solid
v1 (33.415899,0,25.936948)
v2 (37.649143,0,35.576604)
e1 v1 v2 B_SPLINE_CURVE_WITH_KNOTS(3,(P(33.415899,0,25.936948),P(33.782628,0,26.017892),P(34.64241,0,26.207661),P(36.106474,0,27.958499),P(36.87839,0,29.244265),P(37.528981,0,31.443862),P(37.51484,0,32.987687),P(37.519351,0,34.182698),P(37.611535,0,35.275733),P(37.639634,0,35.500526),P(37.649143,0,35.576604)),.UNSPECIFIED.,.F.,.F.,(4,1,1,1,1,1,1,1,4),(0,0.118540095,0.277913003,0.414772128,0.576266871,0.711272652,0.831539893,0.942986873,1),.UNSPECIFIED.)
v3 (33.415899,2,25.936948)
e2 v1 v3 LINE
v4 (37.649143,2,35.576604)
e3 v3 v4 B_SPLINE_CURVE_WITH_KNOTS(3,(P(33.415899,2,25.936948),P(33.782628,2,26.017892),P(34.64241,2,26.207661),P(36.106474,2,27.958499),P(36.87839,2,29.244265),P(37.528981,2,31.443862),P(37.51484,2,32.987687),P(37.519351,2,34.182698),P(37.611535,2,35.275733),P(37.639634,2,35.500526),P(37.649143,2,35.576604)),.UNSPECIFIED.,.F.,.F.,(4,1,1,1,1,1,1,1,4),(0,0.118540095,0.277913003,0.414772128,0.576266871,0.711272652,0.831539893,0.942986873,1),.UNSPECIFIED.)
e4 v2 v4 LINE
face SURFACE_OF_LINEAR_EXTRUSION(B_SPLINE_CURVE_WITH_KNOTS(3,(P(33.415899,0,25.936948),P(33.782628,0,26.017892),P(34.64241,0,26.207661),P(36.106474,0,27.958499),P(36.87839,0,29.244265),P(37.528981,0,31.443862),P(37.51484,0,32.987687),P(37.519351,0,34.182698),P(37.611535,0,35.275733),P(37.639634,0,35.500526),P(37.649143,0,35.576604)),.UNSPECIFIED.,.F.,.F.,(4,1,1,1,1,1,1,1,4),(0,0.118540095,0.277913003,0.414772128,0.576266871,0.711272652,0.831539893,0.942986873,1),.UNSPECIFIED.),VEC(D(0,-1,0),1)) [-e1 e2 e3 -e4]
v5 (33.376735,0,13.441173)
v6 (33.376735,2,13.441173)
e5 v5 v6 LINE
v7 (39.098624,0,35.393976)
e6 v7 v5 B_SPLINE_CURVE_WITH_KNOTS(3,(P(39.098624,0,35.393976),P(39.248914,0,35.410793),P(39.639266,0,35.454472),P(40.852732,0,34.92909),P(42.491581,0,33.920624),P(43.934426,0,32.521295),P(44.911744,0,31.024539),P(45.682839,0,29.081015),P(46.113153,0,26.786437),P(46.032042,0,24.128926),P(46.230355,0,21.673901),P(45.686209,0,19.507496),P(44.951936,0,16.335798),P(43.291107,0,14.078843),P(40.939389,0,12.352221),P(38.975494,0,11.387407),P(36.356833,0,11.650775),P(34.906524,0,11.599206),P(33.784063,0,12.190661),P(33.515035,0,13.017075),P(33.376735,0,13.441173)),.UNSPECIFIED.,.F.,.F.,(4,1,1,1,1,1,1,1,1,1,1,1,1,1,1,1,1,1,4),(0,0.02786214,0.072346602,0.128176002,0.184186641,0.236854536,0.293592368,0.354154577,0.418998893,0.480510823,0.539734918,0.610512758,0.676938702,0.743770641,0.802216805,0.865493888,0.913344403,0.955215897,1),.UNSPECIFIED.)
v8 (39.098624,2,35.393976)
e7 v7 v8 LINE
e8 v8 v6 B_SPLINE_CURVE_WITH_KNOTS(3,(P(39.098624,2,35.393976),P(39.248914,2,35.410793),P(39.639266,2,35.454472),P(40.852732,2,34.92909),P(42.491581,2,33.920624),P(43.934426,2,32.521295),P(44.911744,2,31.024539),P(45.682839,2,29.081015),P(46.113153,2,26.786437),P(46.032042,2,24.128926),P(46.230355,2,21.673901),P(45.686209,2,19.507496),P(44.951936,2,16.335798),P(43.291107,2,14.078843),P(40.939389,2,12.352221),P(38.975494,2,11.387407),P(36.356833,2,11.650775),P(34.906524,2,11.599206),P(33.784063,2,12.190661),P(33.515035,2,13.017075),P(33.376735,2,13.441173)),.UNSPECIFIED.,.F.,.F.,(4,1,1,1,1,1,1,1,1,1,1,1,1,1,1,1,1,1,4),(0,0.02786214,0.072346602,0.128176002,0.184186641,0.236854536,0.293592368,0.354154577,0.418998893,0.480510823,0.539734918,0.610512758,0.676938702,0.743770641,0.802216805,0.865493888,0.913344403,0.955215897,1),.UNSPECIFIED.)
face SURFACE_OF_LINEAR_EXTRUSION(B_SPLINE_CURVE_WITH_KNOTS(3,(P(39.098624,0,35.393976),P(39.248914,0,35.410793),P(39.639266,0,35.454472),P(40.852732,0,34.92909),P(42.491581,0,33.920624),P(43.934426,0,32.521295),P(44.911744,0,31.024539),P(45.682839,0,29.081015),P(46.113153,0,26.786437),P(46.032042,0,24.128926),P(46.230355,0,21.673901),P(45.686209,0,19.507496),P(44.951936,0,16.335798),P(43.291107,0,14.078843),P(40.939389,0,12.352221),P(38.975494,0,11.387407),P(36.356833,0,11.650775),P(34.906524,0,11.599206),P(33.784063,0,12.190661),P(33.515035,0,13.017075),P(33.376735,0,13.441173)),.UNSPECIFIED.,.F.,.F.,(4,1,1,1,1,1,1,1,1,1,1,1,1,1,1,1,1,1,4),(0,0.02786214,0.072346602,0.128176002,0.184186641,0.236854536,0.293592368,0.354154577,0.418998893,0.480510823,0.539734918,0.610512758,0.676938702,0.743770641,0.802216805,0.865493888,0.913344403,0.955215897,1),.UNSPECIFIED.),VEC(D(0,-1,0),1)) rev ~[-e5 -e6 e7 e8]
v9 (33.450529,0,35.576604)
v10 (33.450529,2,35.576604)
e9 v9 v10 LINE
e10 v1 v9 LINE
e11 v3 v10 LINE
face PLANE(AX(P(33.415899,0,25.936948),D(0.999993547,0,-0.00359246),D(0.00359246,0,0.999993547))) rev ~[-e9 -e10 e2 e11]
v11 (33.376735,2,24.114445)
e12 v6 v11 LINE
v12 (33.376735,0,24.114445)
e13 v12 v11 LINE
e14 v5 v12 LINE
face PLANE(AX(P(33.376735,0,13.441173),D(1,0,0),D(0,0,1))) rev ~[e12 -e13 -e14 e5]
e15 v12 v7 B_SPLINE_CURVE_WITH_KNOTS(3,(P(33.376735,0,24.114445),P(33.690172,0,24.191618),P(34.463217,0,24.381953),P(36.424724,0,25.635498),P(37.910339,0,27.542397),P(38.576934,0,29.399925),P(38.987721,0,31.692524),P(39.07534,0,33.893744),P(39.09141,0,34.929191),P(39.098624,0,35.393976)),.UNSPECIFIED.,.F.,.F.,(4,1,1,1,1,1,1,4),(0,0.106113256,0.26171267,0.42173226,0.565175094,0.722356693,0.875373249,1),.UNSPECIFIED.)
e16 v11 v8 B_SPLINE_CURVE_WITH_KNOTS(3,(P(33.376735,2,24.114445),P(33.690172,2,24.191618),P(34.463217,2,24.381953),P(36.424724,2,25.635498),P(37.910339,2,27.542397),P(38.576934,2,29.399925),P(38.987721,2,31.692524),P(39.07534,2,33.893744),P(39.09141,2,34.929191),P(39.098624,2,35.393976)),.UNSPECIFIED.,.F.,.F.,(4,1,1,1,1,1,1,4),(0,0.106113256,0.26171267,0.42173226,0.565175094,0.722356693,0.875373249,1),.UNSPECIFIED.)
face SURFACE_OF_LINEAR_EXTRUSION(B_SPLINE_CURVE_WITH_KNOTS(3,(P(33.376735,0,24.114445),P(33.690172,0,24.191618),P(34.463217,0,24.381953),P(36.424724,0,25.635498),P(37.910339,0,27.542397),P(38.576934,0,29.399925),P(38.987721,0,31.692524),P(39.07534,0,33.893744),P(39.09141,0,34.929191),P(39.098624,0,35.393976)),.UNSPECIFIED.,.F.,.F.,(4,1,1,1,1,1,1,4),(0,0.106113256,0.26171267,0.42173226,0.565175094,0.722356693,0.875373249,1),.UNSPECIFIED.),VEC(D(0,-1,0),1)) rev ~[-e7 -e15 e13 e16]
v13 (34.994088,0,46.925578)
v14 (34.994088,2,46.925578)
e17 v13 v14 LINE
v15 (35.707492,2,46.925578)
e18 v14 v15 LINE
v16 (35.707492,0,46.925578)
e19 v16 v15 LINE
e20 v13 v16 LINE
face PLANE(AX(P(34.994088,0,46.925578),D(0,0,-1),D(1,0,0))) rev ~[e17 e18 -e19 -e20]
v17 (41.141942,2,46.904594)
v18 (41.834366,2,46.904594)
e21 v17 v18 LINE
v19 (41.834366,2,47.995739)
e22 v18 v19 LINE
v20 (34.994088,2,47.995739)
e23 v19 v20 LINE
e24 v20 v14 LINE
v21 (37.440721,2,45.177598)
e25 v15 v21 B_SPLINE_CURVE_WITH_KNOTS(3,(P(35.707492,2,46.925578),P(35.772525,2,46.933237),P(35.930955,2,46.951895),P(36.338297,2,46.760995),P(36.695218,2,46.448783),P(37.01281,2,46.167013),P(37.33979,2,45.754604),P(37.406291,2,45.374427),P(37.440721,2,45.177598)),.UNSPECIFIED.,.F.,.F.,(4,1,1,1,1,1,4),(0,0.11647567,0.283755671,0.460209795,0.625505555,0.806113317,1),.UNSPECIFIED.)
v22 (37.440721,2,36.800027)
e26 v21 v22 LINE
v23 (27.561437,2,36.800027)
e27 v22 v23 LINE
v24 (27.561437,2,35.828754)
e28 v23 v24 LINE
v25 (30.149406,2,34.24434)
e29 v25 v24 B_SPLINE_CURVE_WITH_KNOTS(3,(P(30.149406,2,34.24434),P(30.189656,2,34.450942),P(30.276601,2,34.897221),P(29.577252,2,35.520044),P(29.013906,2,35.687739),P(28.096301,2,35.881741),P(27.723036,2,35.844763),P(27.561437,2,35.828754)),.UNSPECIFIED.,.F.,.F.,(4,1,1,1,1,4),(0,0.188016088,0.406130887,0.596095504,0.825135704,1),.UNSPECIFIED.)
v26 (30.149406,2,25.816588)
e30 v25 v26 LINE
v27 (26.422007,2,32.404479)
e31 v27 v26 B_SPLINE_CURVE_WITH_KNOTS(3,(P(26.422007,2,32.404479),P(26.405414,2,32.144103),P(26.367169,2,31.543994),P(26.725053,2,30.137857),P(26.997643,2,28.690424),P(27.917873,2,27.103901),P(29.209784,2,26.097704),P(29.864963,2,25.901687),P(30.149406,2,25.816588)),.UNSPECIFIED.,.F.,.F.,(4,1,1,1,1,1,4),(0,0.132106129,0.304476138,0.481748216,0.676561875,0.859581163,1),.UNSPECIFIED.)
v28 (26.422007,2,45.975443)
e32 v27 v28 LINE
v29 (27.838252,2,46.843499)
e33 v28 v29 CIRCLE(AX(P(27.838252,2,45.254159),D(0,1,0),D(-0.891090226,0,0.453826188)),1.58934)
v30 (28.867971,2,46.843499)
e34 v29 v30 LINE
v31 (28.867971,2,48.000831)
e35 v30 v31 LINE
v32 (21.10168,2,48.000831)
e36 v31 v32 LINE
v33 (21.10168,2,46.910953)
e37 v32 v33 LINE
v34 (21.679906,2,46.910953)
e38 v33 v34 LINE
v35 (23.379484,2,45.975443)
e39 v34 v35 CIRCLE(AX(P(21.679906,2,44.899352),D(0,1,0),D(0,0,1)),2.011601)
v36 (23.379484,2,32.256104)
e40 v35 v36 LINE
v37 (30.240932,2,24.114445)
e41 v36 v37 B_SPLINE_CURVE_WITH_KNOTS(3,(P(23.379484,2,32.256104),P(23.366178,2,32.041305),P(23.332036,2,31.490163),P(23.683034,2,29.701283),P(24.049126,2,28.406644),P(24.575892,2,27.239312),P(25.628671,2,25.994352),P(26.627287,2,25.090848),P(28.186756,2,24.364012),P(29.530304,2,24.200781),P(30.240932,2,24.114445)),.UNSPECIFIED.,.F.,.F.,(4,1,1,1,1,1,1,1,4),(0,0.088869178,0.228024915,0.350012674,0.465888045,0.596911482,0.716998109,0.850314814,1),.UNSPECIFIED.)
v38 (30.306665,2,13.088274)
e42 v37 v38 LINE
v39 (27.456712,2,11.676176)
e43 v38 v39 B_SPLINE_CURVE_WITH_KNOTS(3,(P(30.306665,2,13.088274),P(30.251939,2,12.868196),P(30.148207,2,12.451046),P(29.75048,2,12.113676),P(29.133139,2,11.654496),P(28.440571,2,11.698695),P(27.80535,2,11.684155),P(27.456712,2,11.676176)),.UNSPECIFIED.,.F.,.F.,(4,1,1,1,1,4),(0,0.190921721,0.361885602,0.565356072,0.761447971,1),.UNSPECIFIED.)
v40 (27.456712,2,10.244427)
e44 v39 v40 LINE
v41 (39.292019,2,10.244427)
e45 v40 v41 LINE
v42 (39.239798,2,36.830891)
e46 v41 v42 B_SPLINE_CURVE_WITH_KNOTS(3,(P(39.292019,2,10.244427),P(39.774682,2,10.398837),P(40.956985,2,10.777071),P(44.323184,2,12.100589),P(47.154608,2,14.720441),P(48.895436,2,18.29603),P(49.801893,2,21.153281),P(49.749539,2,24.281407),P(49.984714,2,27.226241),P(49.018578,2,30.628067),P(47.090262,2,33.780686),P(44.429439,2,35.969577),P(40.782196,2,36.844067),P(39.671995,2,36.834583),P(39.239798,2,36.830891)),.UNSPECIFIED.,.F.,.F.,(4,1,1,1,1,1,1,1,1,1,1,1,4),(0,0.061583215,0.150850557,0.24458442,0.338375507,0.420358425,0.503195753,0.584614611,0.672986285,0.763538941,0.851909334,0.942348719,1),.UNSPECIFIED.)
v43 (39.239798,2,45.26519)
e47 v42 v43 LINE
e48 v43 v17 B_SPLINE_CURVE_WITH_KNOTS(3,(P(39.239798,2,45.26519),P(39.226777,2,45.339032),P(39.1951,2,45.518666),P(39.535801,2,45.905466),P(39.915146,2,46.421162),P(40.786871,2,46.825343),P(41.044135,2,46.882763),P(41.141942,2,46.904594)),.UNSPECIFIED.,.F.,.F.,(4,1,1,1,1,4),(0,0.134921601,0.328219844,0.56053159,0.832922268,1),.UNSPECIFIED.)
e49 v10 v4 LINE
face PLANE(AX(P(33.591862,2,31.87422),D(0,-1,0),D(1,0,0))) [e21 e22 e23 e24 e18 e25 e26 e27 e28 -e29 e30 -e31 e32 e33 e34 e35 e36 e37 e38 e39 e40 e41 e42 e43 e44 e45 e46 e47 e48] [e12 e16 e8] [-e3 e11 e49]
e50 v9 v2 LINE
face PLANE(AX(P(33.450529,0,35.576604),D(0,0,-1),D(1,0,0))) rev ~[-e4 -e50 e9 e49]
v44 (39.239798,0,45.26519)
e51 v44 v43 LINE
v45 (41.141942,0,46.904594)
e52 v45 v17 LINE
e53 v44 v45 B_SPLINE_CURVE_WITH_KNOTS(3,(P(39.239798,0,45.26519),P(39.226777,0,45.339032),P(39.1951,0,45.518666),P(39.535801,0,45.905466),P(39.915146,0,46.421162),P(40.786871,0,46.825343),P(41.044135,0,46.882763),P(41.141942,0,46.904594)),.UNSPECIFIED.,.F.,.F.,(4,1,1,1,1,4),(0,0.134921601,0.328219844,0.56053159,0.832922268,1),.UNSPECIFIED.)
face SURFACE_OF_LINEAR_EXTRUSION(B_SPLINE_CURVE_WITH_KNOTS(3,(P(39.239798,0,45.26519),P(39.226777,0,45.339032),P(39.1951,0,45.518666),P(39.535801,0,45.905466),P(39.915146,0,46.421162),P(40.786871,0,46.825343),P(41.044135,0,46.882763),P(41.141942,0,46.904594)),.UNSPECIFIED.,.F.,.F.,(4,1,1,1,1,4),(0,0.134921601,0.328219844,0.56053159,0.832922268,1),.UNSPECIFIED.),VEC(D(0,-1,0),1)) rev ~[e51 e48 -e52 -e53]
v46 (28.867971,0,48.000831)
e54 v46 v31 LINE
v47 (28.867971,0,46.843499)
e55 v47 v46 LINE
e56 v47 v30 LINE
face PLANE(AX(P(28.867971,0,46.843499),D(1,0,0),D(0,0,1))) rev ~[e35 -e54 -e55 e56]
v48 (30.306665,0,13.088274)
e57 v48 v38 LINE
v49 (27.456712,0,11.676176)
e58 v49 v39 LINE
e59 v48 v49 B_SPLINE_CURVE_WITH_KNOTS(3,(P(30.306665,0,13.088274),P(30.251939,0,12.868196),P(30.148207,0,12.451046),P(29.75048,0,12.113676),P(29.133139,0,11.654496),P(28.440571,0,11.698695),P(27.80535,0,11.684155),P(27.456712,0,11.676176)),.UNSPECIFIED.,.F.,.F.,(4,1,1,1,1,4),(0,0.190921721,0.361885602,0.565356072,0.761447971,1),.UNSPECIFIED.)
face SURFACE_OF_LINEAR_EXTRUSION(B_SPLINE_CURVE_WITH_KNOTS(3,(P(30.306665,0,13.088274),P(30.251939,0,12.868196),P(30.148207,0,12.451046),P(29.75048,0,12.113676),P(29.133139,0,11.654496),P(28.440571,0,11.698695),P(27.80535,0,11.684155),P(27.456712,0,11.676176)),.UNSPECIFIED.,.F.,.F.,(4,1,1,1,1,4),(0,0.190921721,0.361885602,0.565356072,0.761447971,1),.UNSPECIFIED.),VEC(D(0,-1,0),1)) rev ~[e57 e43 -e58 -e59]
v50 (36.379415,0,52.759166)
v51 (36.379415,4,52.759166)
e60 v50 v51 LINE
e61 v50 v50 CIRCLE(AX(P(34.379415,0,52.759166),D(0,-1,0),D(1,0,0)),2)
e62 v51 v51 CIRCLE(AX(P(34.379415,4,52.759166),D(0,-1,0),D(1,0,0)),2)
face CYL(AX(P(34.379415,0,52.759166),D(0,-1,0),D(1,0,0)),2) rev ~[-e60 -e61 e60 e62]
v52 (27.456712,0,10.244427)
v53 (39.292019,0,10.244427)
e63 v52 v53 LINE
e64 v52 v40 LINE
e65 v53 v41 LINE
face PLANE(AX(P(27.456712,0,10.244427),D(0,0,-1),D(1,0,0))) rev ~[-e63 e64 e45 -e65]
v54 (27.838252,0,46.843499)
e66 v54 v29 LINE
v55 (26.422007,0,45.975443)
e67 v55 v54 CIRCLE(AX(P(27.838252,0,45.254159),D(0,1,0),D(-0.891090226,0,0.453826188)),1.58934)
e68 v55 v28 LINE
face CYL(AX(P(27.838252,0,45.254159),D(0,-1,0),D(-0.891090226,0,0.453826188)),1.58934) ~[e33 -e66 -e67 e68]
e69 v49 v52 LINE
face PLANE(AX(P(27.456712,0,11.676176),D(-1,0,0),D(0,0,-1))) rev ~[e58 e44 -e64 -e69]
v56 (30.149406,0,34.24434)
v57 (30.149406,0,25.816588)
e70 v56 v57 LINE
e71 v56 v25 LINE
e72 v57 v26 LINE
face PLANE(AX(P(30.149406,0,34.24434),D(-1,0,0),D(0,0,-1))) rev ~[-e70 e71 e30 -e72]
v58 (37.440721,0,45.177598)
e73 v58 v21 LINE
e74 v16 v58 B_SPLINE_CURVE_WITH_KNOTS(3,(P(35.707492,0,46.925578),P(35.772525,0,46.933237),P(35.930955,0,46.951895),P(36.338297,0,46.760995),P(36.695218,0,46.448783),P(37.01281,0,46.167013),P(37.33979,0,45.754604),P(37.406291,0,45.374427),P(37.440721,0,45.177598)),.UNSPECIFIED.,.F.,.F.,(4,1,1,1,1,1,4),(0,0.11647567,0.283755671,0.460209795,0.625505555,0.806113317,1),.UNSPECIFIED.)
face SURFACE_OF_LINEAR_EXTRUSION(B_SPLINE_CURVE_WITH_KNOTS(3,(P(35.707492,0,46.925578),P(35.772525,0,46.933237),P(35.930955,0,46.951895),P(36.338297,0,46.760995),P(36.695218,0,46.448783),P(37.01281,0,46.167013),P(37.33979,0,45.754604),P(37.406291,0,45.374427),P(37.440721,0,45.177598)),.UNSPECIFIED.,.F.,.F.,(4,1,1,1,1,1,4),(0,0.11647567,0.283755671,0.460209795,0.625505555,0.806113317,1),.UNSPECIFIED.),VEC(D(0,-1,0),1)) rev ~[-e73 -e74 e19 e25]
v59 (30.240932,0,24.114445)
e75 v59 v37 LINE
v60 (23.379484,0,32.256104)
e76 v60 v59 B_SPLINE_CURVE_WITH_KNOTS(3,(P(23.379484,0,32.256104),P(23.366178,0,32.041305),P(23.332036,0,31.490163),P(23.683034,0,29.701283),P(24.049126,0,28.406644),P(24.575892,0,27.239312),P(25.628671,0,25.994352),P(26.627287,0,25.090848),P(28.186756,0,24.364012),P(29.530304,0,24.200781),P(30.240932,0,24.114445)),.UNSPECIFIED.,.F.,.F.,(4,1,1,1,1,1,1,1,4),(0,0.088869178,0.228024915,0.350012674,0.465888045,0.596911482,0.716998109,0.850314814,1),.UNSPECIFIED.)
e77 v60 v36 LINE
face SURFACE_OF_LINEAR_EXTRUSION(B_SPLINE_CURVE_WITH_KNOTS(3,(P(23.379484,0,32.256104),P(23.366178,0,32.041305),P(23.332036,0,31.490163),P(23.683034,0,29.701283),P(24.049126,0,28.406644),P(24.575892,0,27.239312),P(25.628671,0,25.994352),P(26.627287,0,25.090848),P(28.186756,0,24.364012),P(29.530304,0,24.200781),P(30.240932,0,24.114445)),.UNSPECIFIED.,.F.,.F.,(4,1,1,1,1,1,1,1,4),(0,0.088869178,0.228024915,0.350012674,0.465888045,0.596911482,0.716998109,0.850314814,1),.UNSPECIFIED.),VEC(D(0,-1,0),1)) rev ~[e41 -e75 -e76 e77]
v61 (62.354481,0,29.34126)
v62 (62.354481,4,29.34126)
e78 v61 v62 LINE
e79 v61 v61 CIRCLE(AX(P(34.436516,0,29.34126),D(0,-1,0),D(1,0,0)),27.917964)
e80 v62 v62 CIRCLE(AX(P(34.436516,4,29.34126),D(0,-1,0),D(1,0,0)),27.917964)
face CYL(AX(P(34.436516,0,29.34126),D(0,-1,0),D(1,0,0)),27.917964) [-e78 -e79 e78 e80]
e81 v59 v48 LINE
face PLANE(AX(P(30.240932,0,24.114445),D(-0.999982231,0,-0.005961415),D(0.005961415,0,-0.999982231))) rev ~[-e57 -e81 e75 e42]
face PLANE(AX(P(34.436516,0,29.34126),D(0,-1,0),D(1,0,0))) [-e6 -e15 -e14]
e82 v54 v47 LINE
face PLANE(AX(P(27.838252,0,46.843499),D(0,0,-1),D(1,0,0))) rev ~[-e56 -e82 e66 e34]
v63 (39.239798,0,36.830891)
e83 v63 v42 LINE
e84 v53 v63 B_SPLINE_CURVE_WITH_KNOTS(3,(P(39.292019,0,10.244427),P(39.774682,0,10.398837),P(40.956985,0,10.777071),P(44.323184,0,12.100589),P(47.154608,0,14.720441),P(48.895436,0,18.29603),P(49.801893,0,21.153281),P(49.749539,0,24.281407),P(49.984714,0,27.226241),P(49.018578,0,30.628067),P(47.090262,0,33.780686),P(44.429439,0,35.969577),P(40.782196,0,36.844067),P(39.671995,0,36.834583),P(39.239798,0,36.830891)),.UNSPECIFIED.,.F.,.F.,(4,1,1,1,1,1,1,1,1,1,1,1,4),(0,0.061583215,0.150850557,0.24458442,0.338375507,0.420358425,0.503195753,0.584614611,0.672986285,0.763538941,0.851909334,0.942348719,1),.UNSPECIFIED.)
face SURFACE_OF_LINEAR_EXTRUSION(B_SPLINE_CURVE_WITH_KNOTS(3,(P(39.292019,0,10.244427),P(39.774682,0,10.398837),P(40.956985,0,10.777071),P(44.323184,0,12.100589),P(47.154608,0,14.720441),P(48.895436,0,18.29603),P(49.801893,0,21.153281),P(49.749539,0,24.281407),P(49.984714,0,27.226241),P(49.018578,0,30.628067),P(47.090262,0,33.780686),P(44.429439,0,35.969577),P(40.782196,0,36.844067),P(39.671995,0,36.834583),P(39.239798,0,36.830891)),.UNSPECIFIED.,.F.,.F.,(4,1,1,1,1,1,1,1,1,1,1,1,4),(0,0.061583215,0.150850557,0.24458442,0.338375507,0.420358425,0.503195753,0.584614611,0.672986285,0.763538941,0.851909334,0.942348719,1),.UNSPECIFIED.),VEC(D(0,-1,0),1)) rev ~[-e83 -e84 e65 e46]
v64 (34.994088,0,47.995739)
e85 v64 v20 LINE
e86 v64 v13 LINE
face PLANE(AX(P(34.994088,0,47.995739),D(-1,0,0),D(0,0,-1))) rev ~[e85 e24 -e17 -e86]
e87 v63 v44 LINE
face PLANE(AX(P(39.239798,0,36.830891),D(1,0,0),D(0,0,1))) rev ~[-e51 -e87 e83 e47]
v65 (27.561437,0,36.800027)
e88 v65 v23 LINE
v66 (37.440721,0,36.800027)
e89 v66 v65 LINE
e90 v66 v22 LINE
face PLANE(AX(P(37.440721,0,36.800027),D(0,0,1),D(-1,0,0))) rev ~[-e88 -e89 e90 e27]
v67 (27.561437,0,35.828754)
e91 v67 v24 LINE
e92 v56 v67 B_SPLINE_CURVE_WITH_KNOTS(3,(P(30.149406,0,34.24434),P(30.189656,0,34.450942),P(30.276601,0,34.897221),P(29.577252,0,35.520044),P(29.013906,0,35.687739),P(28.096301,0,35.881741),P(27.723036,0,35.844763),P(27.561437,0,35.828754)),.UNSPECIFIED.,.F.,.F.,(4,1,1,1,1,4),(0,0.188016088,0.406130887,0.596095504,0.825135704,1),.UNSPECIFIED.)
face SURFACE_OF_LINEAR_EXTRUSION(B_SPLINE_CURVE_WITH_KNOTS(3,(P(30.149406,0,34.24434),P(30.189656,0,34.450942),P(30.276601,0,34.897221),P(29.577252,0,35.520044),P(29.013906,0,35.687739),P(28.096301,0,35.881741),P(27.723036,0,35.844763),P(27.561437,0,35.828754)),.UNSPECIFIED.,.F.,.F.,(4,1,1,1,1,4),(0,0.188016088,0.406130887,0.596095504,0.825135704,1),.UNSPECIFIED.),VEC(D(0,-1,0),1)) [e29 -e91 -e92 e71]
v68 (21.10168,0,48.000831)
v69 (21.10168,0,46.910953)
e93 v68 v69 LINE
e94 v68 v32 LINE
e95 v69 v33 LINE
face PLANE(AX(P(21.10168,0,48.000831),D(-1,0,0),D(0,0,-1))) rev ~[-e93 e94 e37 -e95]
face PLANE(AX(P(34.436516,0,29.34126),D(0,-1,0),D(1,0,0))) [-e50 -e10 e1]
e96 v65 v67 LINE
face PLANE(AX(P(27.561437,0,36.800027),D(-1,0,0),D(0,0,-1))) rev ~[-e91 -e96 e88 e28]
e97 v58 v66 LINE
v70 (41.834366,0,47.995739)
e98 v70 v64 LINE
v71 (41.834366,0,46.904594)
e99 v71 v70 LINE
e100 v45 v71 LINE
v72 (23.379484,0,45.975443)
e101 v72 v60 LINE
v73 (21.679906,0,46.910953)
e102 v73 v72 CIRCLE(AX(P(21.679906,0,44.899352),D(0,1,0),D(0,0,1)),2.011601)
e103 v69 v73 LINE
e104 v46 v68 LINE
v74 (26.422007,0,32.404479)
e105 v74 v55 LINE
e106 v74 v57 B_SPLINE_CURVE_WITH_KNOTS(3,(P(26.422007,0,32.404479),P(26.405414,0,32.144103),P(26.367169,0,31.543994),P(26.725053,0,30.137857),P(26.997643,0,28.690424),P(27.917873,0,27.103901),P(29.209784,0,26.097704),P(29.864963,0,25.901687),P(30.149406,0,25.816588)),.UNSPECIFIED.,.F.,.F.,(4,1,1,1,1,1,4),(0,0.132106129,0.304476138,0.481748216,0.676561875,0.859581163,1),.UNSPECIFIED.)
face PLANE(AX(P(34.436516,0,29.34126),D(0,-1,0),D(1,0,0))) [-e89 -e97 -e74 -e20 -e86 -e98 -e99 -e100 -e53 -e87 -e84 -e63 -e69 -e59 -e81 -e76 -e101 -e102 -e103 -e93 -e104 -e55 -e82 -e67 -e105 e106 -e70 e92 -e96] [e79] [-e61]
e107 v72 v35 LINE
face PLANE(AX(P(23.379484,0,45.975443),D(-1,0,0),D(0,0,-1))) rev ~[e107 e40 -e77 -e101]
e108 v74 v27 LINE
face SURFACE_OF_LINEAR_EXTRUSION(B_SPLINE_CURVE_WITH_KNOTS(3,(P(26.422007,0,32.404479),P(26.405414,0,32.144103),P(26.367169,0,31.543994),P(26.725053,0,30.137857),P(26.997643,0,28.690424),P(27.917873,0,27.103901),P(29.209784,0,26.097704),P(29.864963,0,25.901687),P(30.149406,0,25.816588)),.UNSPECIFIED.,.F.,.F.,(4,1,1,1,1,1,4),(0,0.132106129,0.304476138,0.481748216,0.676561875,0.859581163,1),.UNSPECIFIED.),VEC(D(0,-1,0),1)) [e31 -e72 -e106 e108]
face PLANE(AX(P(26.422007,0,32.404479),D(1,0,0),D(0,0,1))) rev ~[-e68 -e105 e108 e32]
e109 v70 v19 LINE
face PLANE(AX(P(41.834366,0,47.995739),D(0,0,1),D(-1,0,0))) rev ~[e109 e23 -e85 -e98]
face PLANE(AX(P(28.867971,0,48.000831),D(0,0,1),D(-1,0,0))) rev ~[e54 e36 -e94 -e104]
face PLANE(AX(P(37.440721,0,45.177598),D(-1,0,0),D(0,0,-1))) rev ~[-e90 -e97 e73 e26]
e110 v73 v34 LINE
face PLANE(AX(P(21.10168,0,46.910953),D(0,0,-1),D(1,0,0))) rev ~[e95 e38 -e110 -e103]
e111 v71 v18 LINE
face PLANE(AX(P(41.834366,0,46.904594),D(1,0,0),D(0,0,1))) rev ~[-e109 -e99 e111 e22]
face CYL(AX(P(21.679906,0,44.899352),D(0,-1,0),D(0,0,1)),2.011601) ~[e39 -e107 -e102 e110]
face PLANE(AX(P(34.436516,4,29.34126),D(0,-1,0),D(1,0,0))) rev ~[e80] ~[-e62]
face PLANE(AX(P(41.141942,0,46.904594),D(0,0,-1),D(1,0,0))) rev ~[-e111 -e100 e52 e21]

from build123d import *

# Parameters (mm, degrees)
F1_R     = 27.9179643297
F2_DEPTH = 4
F3_DEPTH = 2
F4_R     = 2
F5_DEPTH = 25


with BuildPart() as f2:
    # F1 (on Front) → F2 (new body)
    with BuildSketch(Plane.XZ):
        with Locations((34.4365164638, 29.3412599713)):
            Circle(F1_R)
    extrude(amount=-F2_DEPTH)

    # F0 (on Front) → F3 (cut)
    with BuildSketch(Plane.XZ):
        with BuildLine():
            Line((28.8679711521, 48.000831157), (21.2418399751, 48.000831157))
            Line((21.2418399751, 48.000831157), (21.1016796529, 48.000831157))
            Line((21.1016796529, 48.000831157), (21.1016796529, 46.9109527767))
            Line((21.1016796529, 46.9109527767), (21.6799061745, 46.9109527767))
            ThreePointArc((21.6799061745, 46.9109527767), (22.6499247341, 46.6616237032), (23.3794841915, 45.9754429758))
            Line((23.3794841915, 45.9754429758), (23.3794841915, 32.2561040521))
            add(Edge.make_bspline(
                [(23.3794841915, 32.2561040521), (23.3661779434, 32.0413049632), (23.3320361161, 31.4901628764), (23.6830336391, 29.7012833817), (24.04912574, 28.4066435414), (24.5758922104, 27.2393122591), (25.6286713635, 25.9943517485), (26.6272868609, 25.0908477478), (28.1867559009, 24.3640116011), (29.5303038983, 24.2007807914), (30.2409324795, 24.1144448519)],
                knots=[0, 0, 0, 0, 0.0888691777, 0.2280249154, 0.350012674, 0.4658880454, 0.5969114819, 0.716998109, 0.8503148137, 1, 1, 1, 1], degree=3))
            Line((30.2409324795, 24.1144448519), (30.3066652268, 13.0882738158))
            add(Edge.make_bspline(
                [(30.3066652268, 13.0882738158), (30.2519389049, 12.8681959728), (30.1482070308, 12.4510459374), (29.7504803796, 12.113676258), (29.1331387589, 11.6544957812), (28.4405708125, 11.6986950554), (27.8053497246, 11.6841554859), (27.4567119777, 11.6761755198)],
                knots=[0, 0, 0, 0, 0.1909217212, 0.3618856023, 0.5653560725, 0.7614479707, 1, 1, 1, 1], degree=3))
            Line((27.4567119777, 11.6761755198), (27.4567119777, 10.2444272488))
            Line((27.4567119777, 10.2444272488), (39.2920188606, 10.2444272488))
            add(Edge.make_bspline(
                [(39.2920188606, 10.2444272488), (39.774682126, 10.3988373959), (40.9569851668, 10.7770712485), (44.3231835186, 12.1005887696), (47.1546084039, 14.7204409379), (48.8954359497, 18.2960298868), (49.8018932136, 21.1532808912), (49.7495385908, 24.2814068636), (49.9847142006, 27.2262407584), (49.0185777967, 30.6280669447), (47.0902622954, 33.7806859912), (44.4294388961, 35.9695773633), (40.7821955148, 36.8440674423), (39.6719954936, 36.8345831371), (39.2397977412, 36.8308909237)],
                knots=[0, 0, 0, 0, 0.0615832149, 0.1508505567, 0.2445844204, 0.3383755074, 0.4203584246, 0.5031957528, 0.5846146114, 0.6729862854, 0.7635389413, 0.8519093339, 0.9423487193, 1, 1, 1, 1], degree=3))
            Line((39.2397977412, 36.8308909237), (39.2397977412, 45.2651903033))
            add(Edge.make_bspline(
                [(39.2397977412, 45.2651903033), (39.2267765482, 45.3390324549), (39.1951002718, 45.5186661031), (39.5358008729, 45.9054656845), (39.9151458428, 46.4211622217), (40.7868707349, 46.8253428314), (41.0441350327, 46.882763452), (41.1419421434, 46.9045937061)],
                knots=[0, 0, 0, 0, 0.1349216013, 0.3282198439, 0.56053159, 0.8329222679, 1, 1, 1, 1], degree=3))
            Line((41.1419421434, 46.9045937061), (41.8343655765, 46.9045937061))
            Line((41.8343655765, 46.9045937061), (41.8343655765, 47.9957386851))
            Line((41.8343655765, 47.9957386851), (34.9940881133, 47.9957386851))
            Line((34.9940881133, 47.9957386851), (34.9940881133, 46.9255782664))
            Line((34.9940881133, 46.9255782664), (35.7074923813, 46.9255782664))
            add(Edge.make_bspline(
                [(35.7074923813, 46.9255782664), (35.7725247196, 46.9332369871), (35.9309551857, 46.9518950075), (36.3382974268, 46.7609951149), (36.6952182588, 46.4487825628), (37.0128103957, 46.167012536), (37.339789857, 45.7546042988), (37.4062912416, 45.3744266144), (37.4407209456, 45.1775975525)],
                knots=[0, 0, 0, 0, 0.1164756704, 0.2837556706, 0.4602097948, 0.6255055551, 0.8061133168, 1, 1, 1, 1], degree=3))
            Line((37.4407209456, 45.1775975525), (37.4407209456, 36.8000268936))
            Line((37.4407209456, 36.8000268936), (27.5614373386, 36.8000268936))
            Line((27.5614373386, 36.8000268936), (27.5614373386, 35.8287543058))
            add(Edge.make_bspline(
                [(30.1494058222, 34.2443399131), (30.1896564321, 34.4509421046), (30.2766012041, 34.8972205701), (29.5772517128, 35.520044137), (29.0139060262, 35.687739493), (28.0963009598, 35.8817409513), (27.7230364986, 35.8447632417), (27.5614373386, 35.8287543058)],
                knots=[0, 0, 0, 0, 0.188016088, 0.4061308867, 0.5960955039, 0.8251357038, 1, 1, 1, 1], degree=3))
            Line((30.1494058222, 34.2443399131), (30.1494058222, 25.8165877312))
            add(Edge.make_bspline(
                [(26.4220070094, 32.4044786394), (26.4054135192, 32.144103332), (26.3671691029, 31.5439943998), (26.7250529812, 30.137856966), (26.997643123, 28.6904244326), (27.9178734275, 27.1039006684), (29.2097838012, 26.097703964), (29.864963328, 25.9016872719), (30.1494058222, 25.8165877312)],
                knots=[0, 0, 0, 0, 0.132106129, 0.304476138, 0.4817482165, 0.6765618752, 0.8595811634, 1, 1, 1, 1], degree=3))
            Line((26.4220070094, 32.4044786394), (26.4220070094, 45.9754429758))
            ThreePointArc((26.4220070094, 45.9754429758), (27.0076995947, 46.6092174693), (27.8382524848, 46.8434989452))
            Line((27.8382524848, 46.8434989452), (28.8679711521, 46.8434989452))
            Line((28.8679711521, 46.8434989452), (28.8679711521, 48.000831157))
        make_face()
        with BuildLine():
            add(Edge.make_bspline(
                [(39.09862414, 35.3939756751), (39.2489142969, 35.4107928497), (39.639265501, 35.4544723857), (40.8527321152, 34.9290898948), (42.4915814336, 33.920624453), (43.934425555, 32.5212947097), (44.9117436655, 31.0245386214), (45.6828391517, 29.0810146814), (46.1131529724, 26.7864365553), (46.0320421568, 24.1289257106), (46.2303553926, 21.67390112), (45.6862086311, 19.5074958509), (44.9519356526, 16.3357981895), (43.2911073701, 14.0788427037), (40.9393886003, 12.35222079), (38.9754938067, 11.387406624), (36.3568333041, 11.6507746265), (34.9065236601, 11.5992055554), (33.7840628182, 12.1906613468), (33.5150350229, 13.0170747001), (33.3767347038, 13.4411733598)],
                knots=[0, 0, 0, 0, 0.0278621403, 0.072346602, 0.1281760017, 0.184186641, 0.2368545361, 0.2935923676, 0.3541545772, 0.4189988933, 0.4805108226, 0.5397349175, 0.6105127582, 0.676938702, 0.7437706408, 0.8022168053, 0.8654938882, 0.9133444026, 0.9552158969, 1, 1, 1, 1], degree=3))
            Line((33.3767347038, 13.4411733598), (33.3767347038, 24.1144448519))
            add(Edge.make_bspline(
                [(33.3767347038, 24.1144448519), (33.6901716031, 24.1916175876), (34.4632174132, 24.38195274), (36.4247235951, 25.6354977326), (37.910338629, 27.5423966525), (38.5769336104, 29.3999250787), (38.987720793, 31.6925237691), (39.0753395699, 33.8937436106), (39.0914103783, 34.9291907767), (39.09862414, 35.3939756751)],
                knots=[0, 0, 0, 0, 0.1061132557, 0.2617126696, 0.4217322602, 0.5651750938, 0.7223566935, 0.8753732491, 1, 1, 1, 1], degree=3))
        make_face(mode=Mode.SUBTRACT)
        with BuildLine():
            Line((33.4505289793, 35.5766043067), (37.4476835132, 35.5766043067))
            Line((37.4476835132, 35.5766043067), (37.6491434872, 35.5766043067))
            add(Edge.make_bspline(
                [(33.4158986807, 25.9369481355), (33.7826276111, 26.0178916222), (34.6424104405, 26.2076607246), (36.1064740511, 27.9584988419), (36.8783895278, 29.2442653684), (37.5289813574, 31.4438618672), (37.514839846, 32.9876868997), (37.5193508062, 34.1826977599), (37.6115348752, 35.2757328046), (37.6396337795, 35.5005259857), (37.6491434872, 35.5766043067)],
                knots=[0, 0, 0, 0, 0.118540095, 0.2779130028, 0.4147721278, 0.5762668706, 0.7112726522, 0.8315398927, 0.9429868732, 1, 1, 1, 1], degree=3))
            Line((33.4158986807, 25.9369481355), (33.4505289793, 35.5766043067))
        make_face(mode=Mode.SUBTRACT)
    extrude(amount=-F3_DEPTH, mode=Mode.SUBTRACT)

    # F4 (on face) → F5 (cut)
    with BuildSketch(Plane.XZ):
        with Locations((34.3794152141, 52.7591659057)):
            Circle(F4_R)
    extrude(amount=-F5_DEPTH, mode=Mode.SUBTRACT)


solid = f2.part
